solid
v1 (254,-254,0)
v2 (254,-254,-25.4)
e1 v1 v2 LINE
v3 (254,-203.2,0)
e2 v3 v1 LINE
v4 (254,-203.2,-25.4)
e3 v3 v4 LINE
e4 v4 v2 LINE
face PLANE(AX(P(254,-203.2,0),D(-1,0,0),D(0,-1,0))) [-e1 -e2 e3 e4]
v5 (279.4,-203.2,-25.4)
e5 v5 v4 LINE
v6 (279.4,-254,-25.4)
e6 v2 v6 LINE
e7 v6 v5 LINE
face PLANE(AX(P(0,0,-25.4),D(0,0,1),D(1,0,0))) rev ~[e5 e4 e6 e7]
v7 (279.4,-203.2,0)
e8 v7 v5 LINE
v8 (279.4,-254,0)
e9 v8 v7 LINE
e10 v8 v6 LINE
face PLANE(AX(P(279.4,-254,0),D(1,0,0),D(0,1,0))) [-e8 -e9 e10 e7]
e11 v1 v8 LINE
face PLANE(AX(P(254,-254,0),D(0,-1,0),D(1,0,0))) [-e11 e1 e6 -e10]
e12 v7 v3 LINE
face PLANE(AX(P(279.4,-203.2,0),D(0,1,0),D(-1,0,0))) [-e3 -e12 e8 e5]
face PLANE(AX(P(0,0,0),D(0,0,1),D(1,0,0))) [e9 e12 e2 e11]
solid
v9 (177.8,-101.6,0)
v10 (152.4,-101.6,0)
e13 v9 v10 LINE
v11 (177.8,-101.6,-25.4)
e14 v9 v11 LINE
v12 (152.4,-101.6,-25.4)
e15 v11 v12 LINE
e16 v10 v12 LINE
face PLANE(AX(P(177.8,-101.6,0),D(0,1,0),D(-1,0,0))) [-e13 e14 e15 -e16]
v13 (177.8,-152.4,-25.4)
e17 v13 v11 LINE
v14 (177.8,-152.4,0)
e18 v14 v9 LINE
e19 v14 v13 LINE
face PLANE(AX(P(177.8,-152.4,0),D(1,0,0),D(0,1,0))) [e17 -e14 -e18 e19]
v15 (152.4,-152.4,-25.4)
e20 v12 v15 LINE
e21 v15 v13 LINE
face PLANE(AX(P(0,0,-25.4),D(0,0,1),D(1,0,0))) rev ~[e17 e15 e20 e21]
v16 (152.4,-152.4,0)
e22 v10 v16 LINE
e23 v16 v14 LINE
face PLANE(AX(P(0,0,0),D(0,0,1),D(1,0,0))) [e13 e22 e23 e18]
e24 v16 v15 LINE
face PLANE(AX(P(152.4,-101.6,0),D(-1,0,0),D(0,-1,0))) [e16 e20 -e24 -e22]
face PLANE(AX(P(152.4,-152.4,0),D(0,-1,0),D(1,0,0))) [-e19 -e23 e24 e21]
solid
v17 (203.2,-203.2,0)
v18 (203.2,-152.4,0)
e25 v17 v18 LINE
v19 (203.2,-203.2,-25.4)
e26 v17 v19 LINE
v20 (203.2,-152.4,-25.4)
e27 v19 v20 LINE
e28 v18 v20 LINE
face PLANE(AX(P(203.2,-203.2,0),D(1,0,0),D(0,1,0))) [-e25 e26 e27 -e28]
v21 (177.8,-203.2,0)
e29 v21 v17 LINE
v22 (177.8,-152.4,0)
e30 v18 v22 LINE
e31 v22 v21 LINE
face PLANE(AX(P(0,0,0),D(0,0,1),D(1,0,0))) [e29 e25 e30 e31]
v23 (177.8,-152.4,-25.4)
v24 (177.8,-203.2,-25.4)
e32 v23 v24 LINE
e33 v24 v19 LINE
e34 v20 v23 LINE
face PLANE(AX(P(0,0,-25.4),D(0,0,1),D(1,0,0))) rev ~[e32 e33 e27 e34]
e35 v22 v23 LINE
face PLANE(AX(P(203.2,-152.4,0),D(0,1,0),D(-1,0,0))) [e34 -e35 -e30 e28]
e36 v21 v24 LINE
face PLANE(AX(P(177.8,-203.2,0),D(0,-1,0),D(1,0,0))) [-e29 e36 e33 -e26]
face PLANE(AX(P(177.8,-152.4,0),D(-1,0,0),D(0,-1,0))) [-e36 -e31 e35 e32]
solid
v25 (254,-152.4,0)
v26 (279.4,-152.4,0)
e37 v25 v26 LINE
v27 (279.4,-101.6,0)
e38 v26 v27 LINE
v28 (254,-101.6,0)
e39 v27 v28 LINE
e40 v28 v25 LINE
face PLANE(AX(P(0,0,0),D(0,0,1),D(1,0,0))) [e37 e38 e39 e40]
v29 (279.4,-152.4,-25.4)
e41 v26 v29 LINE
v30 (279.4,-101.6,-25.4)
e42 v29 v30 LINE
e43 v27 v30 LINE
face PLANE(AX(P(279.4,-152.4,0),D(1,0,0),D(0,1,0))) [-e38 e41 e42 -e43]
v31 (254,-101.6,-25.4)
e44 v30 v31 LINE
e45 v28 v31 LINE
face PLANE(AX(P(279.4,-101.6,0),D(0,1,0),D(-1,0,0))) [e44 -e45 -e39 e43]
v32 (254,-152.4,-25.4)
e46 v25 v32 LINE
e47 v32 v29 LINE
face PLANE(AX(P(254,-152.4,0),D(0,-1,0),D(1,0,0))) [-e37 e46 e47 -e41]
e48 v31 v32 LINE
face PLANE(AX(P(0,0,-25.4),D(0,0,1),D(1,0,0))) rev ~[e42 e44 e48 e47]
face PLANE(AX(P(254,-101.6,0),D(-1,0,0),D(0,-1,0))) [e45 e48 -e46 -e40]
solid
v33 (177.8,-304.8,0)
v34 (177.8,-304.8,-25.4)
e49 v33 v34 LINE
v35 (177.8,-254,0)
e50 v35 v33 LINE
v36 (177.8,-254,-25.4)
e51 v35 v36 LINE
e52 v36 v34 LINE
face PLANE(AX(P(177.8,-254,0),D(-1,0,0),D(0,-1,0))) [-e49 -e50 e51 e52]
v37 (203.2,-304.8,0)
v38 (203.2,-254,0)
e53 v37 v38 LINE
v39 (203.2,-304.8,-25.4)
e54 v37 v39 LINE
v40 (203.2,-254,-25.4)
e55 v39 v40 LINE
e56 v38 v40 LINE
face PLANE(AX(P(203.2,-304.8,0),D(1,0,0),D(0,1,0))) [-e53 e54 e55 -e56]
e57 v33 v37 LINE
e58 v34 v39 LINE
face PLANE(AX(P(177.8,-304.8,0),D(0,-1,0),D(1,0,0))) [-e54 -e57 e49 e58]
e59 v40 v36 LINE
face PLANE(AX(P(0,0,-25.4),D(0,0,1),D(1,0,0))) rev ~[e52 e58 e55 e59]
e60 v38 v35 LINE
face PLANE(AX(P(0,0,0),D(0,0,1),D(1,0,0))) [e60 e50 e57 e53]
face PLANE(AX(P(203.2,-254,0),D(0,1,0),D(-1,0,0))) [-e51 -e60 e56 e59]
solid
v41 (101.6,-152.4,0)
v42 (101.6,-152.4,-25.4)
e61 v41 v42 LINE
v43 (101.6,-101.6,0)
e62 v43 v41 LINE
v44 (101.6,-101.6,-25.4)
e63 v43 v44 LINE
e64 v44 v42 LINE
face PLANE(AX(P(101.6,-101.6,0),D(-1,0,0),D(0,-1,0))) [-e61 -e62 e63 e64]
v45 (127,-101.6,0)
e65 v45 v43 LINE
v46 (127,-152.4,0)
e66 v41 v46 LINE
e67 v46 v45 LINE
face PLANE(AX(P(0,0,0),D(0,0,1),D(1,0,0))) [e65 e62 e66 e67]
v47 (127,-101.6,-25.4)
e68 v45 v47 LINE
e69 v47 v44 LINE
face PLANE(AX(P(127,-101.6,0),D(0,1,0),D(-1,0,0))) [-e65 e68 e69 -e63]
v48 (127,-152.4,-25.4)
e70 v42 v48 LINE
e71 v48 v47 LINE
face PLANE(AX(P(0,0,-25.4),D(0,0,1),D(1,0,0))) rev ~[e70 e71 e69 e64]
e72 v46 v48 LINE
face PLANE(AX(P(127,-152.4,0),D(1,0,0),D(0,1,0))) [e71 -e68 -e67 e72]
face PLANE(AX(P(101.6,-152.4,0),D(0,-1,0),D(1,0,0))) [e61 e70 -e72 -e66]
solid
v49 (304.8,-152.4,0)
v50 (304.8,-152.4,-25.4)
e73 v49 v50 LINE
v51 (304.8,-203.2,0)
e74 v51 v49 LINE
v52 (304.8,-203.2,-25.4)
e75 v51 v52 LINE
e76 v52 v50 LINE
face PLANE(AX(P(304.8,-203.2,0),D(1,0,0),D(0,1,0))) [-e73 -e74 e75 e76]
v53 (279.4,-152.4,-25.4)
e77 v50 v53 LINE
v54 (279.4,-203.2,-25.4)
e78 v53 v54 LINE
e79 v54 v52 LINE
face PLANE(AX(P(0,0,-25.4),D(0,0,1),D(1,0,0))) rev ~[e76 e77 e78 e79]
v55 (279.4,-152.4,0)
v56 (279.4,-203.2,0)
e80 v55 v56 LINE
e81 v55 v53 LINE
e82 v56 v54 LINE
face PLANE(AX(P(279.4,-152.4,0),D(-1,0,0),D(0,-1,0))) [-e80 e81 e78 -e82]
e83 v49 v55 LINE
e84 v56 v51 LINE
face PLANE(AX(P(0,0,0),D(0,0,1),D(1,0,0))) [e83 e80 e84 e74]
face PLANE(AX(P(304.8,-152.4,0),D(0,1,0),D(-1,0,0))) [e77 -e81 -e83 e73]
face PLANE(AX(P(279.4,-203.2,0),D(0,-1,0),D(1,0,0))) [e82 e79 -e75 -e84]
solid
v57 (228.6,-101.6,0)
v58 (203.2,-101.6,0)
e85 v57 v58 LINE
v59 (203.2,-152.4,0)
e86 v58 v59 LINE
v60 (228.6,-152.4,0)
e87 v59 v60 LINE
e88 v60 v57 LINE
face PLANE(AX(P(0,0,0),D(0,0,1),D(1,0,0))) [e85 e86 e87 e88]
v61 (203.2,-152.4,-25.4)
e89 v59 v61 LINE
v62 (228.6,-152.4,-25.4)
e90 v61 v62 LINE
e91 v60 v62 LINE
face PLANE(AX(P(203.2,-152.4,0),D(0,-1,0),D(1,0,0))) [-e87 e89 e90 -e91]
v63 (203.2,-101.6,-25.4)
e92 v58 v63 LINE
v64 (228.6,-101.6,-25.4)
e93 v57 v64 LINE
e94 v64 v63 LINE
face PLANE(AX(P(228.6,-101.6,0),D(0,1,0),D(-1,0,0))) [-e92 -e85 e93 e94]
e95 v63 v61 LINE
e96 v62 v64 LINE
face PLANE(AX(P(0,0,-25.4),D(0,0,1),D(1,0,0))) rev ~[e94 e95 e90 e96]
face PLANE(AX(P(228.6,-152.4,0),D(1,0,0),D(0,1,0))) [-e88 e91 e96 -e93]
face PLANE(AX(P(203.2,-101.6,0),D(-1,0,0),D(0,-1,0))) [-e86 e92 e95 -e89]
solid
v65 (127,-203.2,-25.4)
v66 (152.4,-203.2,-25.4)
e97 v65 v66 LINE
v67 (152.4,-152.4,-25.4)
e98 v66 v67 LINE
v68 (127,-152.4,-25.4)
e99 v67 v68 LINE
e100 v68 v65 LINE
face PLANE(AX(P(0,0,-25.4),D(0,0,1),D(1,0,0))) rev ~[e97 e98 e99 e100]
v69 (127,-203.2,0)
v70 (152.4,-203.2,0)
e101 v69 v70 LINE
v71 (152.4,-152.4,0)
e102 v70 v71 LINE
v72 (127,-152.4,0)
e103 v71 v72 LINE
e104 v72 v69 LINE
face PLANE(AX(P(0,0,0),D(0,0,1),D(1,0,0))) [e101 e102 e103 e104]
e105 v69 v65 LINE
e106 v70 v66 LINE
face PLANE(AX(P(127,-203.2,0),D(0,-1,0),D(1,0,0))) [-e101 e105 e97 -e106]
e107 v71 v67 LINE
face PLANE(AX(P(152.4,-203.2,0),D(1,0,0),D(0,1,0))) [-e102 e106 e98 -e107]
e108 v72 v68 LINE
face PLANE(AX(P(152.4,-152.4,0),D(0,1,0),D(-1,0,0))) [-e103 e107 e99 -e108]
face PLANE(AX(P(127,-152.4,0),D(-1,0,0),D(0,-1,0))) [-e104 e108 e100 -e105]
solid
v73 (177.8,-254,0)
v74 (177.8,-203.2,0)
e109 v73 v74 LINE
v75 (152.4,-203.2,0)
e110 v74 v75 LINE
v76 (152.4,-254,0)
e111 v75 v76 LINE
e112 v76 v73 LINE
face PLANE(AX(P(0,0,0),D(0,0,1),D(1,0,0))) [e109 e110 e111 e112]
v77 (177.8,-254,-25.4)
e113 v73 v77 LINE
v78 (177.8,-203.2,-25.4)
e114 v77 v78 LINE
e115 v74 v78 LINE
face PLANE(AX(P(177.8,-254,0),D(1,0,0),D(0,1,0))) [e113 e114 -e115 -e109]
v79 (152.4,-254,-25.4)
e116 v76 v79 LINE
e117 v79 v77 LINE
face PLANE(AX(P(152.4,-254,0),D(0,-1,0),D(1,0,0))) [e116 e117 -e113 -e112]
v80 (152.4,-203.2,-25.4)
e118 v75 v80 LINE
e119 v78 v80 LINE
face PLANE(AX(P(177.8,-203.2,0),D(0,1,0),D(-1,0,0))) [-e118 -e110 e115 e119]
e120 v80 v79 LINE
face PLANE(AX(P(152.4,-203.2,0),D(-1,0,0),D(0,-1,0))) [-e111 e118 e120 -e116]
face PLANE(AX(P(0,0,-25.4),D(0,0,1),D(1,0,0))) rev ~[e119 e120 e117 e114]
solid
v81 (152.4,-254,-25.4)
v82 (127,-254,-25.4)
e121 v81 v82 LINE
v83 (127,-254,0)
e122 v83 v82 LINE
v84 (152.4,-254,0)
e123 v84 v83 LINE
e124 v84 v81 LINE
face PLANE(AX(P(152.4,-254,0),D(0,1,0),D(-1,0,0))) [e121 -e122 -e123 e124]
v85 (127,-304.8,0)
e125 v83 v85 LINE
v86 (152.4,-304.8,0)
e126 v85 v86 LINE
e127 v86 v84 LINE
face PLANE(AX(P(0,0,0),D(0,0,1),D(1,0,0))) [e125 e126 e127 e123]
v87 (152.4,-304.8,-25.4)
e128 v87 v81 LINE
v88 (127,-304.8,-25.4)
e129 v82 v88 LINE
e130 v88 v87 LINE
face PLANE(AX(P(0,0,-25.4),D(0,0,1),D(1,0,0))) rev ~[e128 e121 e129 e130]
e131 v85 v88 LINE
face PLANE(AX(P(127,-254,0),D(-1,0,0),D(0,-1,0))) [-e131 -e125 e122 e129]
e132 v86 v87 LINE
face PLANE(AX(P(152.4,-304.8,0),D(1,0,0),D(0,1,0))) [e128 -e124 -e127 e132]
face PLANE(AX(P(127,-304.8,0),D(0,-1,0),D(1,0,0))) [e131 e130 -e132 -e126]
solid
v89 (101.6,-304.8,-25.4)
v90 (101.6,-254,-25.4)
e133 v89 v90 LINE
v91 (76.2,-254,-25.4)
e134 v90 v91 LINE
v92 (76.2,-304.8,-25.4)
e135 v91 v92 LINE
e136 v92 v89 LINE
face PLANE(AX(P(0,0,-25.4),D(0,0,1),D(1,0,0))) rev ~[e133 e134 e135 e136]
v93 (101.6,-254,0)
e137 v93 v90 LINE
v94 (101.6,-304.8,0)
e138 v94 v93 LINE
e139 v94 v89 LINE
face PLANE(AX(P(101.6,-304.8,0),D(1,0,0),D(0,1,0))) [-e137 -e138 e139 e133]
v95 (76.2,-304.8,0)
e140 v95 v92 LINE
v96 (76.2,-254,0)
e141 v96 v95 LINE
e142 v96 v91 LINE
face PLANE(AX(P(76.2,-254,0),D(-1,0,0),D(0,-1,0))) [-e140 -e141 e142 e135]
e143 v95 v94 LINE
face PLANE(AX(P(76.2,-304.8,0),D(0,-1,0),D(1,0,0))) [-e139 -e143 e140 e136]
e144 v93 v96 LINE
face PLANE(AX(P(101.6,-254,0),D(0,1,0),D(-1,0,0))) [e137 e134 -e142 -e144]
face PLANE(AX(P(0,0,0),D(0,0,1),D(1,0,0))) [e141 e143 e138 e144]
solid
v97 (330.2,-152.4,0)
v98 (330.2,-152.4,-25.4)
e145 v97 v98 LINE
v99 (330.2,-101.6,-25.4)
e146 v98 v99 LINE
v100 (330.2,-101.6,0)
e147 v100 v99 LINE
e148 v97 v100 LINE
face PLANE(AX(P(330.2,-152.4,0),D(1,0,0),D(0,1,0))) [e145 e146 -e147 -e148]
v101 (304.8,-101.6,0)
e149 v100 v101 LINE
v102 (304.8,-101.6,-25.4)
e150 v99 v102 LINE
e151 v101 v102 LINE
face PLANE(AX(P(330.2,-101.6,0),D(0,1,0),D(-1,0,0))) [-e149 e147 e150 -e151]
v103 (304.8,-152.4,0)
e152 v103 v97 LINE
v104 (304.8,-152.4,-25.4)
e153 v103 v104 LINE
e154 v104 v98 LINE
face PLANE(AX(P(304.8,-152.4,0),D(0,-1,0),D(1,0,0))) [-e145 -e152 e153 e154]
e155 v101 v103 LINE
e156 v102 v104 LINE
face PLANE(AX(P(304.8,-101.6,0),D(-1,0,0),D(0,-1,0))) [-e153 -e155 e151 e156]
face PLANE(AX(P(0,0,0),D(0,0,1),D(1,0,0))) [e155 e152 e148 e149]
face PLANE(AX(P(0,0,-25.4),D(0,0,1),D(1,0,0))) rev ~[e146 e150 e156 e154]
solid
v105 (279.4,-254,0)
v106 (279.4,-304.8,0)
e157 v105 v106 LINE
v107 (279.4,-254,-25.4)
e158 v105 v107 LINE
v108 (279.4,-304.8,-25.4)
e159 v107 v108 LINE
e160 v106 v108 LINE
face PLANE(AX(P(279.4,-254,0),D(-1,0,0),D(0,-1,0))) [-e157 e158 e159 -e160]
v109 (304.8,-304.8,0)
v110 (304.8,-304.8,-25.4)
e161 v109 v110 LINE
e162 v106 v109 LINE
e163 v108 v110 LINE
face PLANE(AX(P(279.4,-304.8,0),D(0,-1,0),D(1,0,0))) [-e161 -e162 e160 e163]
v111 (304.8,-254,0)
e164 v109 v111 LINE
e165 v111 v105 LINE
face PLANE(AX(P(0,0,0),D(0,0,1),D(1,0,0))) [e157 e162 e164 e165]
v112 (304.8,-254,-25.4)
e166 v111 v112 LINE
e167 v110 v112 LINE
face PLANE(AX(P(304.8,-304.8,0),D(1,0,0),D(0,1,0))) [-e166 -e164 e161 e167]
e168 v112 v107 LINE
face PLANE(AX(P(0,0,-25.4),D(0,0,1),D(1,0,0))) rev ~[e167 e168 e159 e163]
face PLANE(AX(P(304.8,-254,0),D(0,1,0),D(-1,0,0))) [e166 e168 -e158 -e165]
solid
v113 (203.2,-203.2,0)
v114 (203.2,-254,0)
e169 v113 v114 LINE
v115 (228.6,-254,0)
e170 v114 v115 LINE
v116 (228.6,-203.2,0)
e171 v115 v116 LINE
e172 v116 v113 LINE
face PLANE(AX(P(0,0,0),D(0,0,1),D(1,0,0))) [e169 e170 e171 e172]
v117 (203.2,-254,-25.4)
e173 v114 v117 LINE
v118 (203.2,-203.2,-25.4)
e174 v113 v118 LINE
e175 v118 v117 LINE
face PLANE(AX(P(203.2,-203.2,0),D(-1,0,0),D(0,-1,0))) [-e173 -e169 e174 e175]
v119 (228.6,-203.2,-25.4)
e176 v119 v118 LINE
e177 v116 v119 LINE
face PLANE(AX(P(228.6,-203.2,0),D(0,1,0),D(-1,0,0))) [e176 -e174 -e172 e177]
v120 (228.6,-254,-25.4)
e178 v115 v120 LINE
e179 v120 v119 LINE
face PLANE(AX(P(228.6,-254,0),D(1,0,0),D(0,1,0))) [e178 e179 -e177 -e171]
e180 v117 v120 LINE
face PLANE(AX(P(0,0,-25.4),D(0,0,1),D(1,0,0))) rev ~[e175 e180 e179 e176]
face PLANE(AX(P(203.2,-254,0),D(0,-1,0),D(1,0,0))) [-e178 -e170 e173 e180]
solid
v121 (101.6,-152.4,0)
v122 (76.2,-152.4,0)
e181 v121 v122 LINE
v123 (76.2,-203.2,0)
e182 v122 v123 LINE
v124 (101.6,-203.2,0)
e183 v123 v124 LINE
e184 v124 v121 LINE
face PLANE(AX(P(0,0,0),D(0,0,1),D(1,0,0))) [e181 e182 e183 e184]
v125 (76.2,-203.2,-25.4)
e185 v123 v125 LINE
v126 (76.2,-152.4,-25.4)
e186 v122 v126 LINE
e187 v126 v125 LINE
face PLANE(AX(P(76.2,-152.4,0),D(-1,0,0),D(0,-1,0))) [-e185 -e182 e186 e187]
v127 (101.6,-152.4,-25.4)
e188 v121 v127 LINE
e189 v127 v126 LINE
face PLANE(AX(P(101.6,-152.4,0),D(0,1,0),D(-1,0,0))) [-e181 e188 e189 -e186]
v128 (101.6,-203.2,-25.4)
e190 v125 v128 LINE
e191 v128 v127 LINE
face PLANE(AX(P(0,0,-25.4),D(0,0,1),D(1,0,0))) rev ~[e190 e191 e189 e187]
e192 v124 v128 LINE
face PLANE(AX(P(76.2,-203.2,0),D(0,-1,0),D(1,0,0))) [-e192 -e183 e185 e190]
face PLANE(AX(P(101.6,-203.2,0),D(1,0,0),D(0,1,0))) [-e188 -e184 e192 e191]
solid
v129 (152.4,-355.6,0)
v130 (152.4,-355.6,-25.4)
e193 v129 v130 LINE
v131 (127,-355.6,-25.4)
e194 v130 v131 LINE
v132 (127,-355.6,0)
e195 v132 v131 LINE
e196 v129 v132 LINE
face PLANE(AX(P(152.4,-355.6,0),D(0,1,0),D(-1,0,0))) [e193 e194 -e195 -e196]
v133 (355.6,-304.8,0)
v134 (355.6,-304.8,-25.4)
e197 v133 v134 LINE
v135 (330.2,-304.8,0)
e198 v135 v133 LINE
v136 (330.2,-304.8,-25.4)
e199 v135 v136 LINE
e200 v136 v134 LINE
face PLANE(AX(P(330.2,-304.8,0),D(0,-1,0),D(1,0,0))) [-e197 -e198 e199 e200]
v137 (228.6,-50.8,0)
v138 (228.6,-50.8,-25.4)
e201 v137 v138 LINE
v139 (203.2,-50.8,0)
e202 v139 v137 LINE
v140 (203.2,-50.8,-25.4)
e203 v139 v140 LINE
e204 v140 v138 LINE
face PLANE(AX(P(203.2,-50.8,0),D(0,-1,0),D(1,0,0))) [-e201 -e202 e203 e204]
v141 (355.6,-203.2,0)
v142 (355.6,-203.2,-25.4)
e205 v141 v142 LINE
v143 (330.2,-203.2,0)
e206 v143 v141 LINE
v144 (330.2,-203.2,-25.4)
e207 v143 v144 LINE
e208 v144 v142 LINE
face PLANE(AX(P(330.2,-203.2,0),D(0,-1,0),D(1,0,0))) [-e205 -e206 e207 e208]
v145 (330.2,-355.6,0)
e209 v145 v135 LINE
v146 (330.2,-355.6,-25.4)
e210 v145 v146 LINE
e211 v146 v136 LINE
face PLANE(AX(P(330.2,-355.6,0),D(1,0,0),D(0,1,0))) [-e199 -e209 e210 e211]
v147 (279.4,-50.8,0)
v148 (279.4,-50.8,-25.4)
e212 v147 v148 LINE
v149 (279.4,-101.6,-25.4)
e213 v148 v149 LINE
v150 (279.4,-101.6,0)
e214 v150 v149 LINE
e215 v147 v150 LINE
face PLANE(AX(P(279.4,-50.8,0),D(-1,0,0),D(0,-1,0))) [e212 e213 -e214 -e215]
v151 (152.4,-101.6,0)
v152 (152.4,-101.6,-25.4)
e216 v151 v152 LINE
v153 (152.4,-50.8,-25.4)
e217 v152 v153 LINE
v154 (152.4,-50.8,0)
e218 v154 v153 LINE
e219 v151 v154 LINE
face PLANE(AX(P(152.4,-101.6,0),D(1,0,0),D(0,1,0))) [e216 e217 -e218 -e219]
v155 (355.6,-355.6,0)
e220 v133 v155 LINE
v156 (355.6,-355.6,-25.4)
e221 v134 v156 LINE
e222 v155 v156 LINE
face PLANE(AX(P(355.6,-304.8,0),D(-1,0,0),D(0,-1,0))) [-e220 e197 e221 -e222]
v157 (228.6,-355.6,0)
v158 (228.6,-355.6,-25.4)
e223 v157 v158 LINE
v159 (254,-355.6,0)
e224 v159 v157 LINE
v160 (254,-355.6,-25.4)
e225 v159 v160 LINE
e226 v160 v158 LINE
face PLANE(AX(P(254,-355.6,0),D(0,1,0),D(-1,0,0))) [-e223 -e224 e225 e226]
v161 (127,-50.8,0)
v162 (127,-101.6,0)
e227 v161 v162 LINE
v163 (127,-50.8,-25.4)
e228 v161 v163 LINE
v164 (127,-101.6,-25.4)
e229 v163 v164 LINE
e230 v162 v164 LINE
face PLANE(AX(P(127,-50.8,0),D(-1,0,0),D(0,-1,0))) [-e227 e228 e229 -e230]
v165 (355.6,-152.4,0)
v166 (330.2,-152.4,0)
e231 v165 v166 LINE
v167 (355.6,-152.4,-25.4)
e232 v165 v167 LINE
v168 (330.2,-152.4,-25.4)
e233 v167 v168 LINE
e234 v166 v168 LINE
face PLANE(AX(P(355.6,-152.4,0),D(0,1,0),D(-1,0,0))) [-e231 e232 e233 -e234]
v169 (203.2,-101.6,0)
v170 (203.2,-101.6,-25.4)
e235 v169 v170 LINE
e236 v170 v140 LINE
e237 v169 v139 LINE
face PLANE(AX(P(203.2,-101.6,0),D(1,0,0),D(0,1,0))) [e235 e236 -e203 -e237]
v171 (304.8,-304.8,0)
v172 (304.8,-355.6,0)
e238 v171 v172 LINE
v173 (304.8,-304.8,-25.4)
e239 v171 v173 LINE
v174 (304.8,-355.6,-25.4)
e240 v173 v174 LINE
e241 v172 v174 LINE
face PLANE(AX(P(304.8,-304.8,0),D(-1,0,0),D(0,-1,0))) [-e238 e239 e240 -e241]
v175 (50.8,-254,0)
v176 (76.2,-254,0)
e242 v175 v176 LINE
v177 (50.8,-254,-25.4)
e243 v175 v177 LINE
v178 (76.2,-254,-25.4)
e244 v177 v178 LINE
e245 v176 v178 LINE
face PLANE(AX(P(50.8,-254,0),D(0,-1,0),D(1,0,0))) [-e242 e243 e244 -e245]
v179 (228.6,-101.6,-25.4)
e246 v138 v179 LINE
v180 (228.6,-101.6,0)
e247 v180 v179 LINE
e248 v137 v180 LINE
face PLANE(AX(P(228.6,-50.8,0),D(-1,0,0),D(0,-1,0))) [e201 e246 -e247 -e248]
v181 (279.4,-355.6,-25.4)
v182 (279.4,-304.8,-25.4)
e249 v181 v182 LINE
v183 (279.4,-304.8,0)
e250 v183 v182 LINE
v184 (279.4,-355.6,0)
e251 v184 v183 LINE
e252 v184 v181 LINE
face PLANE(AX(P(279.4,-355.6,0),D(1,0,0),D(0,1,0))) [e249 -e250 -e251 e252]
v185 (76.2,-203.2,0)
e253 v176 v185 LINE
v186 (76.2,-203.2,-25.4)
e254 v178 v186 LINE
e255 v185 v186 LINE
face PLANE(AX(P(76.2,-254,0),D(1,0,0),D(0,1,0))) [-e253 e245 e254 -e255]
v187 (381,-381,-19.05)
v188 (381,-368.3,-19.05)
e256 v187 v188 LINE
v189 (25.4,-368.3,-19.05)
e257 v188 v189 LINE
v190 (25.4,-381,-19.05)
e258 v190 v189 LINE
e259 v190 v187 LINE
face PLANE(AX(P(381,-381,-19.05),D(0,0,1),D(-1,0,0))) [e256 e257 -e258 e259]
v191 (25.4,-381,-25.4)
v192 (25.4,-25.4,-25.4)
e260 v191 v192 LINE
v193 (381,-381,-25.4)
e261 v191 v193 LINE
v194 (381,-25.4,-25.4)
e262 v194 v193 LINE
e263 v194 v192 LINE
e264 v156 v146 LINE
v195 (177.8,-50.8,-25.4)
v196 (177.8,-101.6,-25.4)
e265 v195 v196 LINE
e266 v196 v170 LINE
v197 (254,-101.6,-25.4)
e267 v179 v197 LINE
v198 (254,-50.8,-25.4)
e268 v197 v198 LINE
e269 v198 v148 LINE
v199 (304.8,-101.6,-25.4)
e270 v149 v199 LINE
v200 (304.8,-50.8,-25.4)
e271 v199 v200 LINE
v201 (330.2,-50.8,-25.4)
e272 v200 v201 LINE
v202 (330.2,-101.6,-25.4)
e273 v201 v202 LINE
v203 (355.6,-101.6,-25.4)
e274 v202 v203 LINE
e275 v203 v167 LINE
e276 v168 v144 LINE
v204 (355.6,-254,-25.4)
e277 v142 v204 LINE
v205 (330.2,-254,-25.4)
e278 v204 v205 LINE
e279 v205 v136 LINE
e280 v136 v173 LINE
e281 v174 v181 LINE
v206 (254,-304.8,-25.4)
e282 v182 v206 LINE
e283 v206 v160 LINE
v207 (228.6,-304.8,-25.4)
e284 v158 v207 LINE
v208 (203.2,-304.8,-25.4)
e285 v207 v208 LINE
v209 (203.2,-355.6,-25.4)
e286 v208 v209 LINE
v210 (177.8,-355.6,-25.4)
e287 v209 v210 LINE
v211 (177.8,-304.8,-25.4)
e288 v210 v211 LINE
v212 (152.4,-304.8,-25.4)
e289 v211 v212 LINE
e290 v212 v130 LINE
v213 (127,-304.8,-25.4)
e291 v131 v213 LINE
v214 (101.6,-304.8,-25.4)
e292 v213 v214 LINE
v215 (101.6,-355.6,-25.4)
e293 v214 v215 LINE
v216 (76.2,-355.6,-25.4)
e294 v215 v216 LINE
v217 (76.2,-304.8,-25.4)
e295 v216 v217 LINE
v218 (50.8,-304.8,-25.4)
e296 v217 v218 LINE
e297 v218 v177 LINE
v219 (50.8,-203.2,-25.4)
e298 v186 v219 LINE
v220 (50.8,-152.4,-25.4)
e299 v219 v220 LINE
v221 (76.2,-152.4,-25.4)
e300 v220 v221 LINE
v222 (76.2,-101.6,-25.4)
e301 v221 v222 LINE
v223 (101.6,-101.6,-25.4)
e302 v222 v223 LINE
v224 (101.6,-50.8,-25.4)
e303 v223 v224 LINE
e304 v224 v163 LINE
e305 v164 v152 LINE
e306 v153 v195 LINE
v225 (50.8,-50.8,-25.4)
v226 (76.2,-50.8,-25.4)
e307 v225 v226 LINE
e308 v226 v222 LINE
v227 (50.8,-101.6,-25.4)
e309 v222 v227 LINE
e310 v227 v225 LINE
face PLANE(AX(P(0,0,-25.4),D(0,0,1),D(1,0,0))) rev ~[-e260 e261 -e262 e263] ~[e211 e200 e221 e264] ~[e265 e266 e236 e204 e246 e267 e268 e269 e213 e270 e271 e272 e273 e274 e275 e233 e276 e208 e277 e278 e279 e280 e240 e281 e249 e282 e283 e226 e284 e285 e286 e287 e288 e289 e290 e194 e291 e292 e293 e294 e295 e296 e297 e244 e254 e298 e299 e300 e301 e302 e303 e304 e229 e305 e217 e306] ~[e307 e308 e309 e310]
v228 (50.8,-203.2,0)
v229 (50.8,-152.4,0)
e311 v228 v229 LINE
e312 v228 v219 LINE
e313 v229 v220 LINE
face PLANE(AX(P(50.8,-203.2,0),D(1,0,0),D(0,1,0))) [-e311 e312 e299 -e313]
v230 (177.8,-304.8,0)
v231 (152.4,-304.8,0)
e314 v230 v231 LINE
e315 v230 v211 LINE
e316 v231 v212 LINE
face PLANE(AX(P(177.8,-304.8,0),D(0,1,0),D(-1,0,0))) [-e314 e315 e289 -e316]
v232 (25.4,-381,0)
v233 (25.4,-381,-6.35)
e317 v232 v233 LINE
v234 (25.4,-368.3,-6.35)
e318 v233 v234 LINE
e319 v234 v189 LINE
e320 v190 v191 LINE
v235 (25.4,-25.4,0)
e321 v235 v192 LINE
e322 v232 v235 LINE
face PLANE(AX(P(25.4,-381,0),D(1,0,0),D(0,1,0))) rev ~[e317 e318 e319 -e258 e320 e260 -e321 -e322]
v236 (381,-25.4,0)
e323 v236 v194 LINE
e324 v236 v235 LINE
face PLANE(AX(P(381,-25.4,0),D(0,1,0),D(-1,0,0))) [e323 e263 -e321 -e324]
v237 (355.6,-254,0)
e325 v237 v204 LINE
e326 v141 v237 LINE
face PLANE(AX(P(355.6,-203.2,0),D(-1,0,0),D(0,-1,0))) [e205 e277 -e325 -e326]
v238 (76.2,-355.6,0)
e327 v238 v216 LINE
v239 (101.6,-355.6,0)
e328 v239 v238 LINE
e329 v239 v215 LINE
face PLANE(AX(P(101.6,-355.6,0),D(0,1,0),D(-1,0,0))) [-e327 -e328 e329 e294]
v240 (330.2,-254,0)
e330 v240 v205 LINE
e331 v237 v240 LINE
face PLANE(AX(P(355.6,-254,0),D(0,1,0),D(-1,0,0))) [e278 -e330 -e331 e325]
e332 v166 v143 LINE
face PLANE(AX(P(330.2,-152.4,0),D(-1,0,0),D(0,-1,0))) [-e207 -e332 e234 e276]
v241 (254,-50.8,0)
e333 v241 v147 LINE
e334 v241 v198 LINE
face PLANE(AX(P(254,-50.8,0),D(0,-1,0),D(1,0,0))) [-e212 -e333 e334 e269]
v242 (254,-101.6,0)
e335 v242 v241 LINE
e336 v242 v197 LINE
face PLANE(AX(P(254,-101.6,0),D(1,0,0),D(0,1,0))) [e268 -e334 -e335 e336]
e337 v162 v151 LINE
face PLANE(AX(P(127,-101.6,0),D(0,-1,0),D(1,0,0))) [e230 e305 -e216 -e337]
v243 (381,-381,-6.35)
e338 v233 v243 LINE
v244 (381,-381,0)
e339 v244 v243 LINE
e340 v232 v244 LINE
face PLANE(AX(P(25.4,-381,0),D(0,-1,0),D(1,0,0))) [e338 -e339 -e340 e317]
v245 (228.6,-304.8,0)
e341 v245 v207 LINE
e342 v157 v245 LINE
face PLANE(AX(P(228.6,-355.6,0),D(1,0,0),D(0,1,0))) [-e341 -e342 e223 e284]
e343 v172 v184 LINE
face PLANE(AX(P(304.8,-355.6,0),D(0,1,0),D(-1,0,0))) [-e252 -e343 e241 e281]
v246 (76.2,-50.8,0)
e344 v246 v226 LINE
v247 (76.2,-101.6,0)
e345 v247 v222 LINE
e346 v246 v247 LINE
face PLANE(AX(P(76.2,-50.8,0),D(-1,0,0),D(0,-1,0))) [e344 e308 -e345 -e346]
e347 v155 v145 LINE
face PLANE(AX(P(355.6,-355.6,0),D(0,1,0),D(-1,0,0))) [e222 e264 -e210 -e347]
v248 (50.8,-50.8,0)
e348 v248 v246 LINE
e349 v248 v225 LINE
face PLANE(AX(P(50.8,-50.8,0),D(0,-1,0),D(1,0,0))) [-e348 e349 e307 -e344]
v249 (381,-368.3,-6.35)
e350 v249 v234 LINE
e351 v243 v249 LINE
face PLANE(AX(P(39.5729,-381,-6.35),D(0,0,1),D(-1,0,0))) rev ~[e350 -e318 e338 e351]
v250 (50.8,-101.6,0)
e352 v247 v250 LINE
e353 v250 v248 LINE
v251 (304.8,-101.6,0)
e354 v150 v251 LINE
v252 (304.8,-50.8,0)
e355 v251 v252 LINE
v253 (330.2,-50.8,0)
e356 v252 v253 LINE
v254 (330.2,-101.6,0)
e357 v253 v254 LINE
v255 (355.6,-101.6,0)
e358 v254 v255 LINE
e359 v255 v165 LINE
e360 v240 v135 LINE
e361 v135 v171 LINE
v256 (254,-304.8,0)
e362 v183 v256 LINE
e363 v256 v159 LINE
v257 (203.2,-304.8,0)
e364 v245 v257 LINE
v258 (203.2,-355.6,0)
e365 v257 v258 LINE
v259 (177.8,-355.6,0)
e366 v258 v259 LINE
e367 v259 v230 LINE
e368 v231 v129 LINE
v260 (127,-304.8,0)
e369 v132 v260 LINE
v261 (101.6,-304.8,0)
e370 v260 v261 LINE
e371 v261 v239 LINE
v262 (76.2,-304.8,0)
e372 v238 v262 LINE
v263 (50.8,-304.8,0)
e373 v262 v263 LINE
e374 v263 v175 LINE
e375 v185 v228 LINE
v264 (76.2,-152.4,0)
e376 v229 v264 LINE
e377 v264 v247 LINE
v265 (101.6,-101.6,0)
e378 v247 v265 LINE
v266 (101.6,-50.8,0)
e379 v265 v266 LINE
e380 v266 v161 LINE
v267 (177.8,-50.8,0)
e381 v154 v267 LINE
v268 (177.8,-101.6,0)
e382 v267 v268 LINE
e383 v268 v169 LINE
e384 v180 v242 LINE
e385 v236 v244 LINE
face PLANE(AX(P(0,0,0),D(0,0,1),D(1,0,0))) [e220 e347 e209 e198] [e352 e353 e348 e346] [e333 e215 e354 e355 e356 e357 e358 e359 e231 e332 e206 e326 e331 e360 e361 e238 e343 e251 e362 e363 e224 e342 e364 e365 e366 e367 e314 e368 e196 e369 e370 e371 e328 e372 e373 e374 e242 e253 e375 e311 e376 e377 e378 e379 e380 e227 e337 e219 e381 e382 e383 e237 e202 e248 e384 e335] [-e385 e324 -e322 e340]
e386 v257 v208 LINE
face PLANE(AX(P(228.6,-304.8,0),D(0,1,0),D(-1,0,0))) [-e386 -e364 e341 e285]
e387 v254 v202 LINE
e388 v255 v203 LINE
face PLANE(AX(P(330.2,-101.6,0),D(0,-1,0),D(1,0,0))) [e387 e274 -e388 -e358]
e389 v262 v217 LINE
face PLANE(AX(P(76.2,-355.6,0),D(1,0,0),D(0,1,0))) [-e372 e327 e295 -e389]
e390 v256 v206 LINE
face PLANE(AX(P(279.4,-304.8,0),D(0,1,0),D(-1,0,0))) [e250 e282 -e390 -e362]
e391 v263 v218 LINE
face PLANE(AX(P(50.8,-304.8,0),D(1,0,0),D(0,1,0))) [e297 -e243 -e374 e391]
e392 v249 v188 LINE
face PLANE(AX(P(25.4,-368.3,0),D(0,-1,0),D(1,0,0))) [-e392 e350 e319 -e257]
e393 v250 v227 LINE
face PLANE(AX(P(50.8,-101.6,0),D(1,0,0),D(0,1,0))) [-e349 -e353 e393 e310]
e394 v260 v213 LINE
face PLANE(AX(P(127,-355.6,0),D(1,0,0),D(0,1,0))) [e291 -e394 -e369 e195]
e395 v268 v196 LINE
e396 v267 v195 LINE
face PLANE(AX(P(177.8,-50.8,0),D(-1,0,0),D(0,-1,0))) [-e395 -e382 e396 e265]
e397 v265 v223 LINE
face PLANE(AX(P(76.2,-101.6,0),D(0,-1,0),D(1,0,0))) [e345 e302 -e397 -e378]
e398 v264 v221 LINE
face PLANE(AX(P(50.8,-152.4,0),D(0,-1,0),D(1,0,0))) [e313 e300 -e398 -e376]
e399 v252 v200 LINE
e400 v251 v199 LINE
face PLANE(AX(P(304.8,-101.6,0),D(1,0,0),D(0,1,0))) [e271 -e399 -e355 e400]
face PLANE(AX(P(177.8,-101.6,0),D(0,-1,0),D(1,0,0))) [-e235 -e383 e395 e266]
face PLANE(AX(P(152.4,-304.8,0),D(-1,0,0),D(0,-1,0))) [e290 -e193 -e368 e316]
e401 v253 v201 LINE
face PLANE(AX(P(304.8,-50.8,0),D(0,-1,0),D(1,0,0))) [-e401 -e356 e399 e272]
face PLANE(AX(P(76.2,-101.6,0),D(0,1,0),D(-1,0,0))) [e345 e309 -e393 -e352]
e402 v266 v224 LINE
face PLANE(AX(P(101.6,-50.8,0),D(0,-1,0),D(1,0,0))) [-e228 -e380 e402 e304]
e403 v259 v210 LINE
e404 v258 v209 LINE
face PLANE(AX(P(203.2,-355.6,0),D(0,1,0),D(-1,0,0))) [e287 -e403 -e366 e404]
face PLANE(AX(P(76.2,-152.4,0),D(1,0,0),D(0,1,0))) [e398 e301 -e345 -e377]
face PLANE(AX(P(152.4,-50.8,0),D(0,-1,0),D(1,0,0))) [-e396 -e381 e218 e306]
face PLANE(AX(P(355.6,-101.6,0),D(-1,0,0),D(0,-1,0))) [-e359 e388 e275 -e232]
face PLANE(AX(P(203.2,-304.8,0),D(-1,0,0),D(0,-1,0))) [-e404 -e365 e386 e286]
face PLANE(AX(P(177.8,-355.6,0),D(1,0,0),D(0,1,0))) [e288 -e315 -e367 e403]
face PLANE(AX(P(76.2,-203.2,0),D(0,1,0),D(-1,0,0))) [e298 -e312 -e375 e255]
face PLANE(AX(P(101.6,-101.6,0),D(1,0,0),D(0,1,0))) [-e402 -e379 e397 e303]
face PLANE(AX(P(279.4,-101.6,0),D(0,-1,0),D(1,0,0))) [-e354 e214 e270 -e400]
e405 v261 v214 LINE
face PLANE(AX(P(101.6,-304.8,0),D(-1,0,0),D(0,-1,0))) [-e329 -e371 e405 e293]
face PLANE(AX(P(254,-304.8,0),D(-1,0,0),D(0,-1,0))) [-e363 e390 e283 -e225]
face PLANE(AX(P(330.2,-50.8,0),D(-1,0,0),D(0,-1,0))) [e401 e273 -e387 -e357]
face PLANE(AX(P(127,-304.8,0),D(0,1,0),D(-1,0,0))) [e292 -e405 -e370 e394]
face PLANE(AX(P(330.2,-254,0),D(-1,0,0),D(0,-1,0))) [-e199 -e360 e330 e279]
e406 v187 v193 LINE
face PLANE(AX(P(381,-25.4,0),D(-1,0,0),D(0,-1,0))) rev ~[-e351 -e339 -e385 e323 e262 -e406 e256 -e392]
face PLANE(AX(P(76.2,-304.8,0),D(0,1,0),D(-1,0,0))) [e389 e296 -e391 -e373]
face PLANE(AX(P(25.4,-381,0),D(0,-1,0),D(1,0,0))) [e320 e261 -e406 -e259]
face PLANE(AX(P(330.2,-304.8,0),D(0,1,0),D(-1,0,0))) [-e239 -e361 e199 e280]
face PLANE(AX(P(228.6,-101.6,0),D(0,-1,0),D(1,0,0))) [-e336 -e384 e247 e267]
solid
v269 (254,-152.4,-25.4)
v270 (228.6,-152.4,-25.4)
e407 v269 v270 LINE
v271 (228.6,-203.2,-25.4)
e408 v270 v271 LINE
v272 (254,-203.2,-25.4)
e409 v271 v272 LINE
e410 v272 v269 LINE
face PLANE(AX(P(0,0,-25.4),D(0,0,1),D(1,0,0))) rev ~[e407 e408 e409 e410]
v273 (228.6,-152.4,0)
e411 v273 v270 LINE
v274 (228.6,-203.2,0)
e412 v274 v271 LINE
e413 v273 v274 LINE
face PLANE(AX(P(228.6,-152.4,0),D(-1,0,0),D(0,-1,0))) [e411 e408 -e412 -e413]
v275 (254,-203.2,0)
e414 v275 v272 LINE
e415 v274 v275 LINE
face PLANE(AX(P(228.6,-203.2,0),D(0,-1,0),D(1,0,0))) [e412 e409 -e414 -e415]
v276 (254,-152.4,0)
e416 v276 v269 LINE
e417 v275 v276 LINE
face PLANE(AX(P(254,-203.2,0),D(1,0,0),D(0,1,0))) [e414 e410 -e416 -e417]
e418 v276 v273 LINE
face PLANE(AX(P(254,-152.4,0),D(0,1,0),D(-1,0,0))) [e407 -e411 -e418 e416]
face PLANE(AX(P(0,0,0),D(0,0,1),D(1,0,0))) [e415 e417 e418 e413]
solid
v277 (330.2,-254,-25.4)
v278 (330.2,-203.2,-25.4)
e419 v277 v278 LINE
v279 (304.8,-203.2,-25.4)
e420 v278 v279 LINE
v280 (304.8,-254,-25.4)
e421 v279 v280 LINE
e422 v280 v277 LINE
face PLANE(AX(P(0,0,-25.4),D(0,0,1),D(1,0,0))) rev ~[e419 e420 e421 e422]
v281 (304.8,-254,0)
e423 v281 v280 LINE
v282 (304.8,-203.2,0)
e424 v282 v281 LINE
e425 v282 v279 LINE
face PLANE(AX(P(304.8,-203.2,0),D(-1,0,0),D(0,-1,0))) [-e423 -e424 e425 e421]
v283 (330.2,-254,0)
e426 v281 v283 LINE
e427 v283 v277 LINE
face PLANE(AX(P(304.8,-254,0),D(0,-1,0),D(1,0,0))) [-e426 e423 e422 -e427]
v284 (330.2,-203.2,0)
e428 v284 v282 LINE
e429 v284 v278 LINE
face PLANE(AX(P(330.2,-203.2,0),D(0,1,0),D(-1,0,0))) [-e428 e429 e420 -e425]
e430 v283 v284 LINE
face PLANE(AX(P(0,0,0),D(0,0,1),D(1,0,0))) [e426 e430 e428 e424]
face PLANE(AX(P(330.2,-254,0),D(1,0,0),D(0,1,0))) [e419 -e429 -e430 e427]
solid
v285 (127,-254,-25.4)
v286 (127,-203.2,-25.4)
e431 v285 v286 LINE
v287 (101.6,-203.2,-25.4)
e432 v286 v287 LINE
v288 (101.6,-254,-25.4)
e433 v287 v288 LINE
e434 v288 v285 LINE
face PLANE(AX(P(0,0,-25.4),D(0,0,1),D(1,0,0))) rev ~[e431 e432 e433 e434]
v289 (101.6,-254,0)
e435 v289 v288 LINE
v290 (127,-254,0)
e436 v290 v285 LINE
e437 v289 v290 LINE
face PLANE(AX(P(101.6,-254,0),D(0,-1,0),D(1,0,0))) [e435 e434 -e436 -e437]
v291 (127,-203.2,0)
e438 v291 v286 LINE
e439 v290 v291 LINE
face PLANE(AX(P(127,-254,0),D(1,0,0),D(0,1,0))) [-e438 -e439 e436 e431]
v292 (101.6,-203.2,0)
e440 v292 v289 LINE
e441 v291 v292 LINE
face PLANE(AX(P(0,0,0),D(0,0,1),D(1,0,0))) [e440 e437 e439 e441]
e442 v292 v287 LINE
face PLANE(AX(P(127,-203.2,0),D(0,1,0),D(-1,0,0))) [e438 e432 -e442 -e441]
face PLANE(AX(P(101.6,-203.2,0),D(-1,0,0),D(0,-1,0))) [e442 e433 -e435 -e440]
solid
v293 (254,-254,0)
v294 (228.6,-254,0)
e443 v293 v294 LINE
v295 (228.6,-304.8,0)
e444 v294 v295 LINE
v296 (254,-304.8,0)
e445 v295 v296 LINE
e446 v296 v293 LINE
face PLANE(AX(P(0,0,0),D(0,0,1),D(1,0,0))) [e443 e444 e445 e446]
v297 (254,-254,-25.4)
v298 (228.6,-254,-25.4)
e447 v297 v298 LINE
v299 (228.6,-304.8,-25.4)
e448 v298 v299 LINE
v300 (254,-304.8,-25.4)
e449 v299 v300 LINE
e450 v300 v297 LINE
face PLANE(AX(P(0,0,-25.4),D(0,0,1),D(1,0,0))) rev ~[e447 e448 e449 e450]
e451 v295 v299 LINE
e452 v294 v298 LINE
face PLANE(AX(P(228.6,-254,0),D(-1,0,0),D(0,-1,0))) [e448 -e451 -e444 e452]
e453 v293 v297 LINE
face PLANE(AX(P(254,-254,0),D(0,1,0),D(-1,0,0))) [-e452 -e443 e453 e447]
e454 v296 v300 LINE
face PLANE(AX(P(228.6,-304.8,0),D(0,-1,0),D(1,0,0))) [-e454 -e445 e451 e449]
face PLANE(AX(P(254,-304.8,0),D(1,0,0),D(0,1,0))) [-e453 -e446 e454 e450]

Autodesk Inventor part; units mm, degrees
ref_plane "YZ Plane" through (0, 0, 0) normal (1, 0, 0) x (0, 1, 0)
ref_plane "XZ Plane" through (0, 0, 0) normal (0, 1, 0) x (-1, 0, 0)
ref_plane "XY Plane" through (0, 0, 0) normal (0, 0, 1) x (1, 0, 0)
sketch "Sketch1" plane through (0, 0, 0) normal (0, 0, 1) x (1, 0, 0)
  line L0 (0, 0) -> (812.8, 0) construction
  line L1 (812.8, 0) -> (812.8, -406.4) construction
  line L2 (812.8, -406.4) -> (0, -406.4) construction
  line L3 (0, -406.4) -> (0, 0) construction
  line L4 (0, 0) -> (406.4, 0)
  line L5 (406.4, 0) -> (406.4, -25.4)
  line L6 (406.4, -25.4) -> (0, -25.4)
  line L7 (0, -25.4) -> (0, 0)
  line L8 (406.4, -25.4) -> (381, -25.4)
  line L9 (381, -25.4) -> (381, -406.4)
  line L10 (381, -406.4) -> (406.4, -406.4)
  line L11 (406.4, -406.4) -> (406.4, -25.4)
  line L12 (381, -406.4) -> (0, -406.4)
  line L13 (0, -406.4) -> (0, -381)
  line L14 (0, -381) -> (381, -381)
  line L15 (381, -381) -> (381, -406.4)
  line L16 (0, -381) -> (25.4, -381)
  line L17 (25.4, -381) -> (25.4, -25.4)
  line L18 (25.4, -25.4) -> (0, -25.4)
  line L19 (0, -25.4) -> (0, -381)
  dimension "d1" = 812.8
  dimension "d5" = 406.4
  dimension "d6" = 25.4
  dimension "d7" = 25.4
  dimension "d8" = 381
  dimension "d9" = 381
  dimension "d10" = 25.4
  dimension "d11" = 25.4
extrude "Extrusion1" add sketch "Sketch1" against normal blind 25.4 contours L6 L9 L14 L17
sketch "Sketch2" plane through (0, 0, 0) normal (0, 0, 1) x (1, 0, 0)
  line L0 (0, 0) -> (812.8, 0) construction
  line L1 (812.8, 0) -> (812.8, -406.4) construction
  line L2 (812.8, -406.4) -> (0, -406.4) construction
  line L3 (0, -406.4) -> (0, 0) construction
  line L4 (25.4, -25.4) -> (381, -25.4) projected
  line L5 (25.4, -25.4) -> (50.8, -25.4)
  line L6 (50.8, -25.4) -> (50.8, -50.8)
  line L7 (50.8, -50.8) -> (25.4, -50.8)
  line L8 (25.4, -50.8) -> (25.4, -25.4)
  line L9 (50.8, -50.8) -> (76.2, -50.8)
  line L10 (76.2, -50.8) -> (76.2, -101.6)
  line L11 (76.2, -101.6) -> (50.8, -101.6)
  line L12 (50.8, -101.6) -> (50.8, -50.8)
  line L13 (76.2, -101.6) -> (101.6, -101.6)
  line L14 (101.6, -101.6) -> (101.6, -152.4)
  line L15 (101.6, -152.4) -> (76.2, -152.4)
  line L16 (76.2, -152.4) -> (76.2, -101.6)
  line L17 (101.6, -152.4) -> (127, -152.4)
  line L18 (127, -152.4) -> (127, -203.2)
  line L19 (127, -203.2) -> (101.6, -203.2)
  line L20 (101.6, -203.2) -> (101.6, -152.4)
  line L21 (127, -203.2) -> (152.4, -203.2)
  line L22 (152.4, -203.2) -> (152.4, -254)
  line L23 (152.4, -254) -> (127, -254)
  line L24 (127, -254) -> (127, -203.2)
  line L25 (152.4, -254) -> (177.8, -254)
  line L26 (177.8, -254) -> (177.8, -304.8)
  line L27 (177.8, -304.8) -> (152.4, -304.8)
  line L28 (152.4, -304.8) -> (152.4, -254)
  line L29 (177.8, -304.8) -> (203.2, -304.8)
  line L30 (203.2, -304.8) -> (203.2, -355.6)
  line L31 (203.2, -355.6) -> (177.8, -355.6)
  line L32 (177.8, -355.6) -> (177.8, -304.8)
  line L33 (50.8, -152.4) -> (76.2, -152.4)
  line L34 (76.2, -152.4) -> (76.2, -203.2)
  line L35 (76.2, -203.2) -> (50.8, -203.2)
  line L36 (50.8, -203.2) -> (50.8, -152.4)
  line L37 (76.2, -203.2) -> (101.6, -203.2)
  line L38 (101.6, -203.2) -> (101.6, -254)
  line L39 (101.6, -254) -> (76.2, -254)
  line L40 (76.2, -254) -> (76.2, -203.2)
  line L41 (101.6, -254) -> (127, -254)
  line L42 (127, -254) -> (127, -304.8)
  line L43 (127, -304.8) -> (101.6, -304.8)
  line L44 (101.6, -304.8) -> (101.6, -254)
  line L45 (127, -304.8) -> (152.4, -304.8)
  line L46 (152.4, -304.8) -> (152.4, -355.6)
  line L47 (152.4, -355.6) -> (127, -355.6)
  line L48 (127, -355.6) -> (127, -304.8)
  line L49 (50.8, -254) -> (76.2, -254)
  line L50 (76.2, -254) -> (76.2, -304.8)
  line L51 (76.2, -304.8) -> (50.8, -304.8)
  line L52 (50.8, -304.8) -> (50.8, -254)
  line L53 (76.2, -304.8) -> (101.6, -304.8)
  line L54 (101.6, -304.8) -> (101.6, -355.6)
  line L55 (101.6, -355.6) -> (76.2, -355.6)
  line L56 (76.2, -355.6) -> (76.2, -304.8)
  line L57 (203.2, -254) -> (228.6, -254)
  line L58 (228.6, -254) -> (228.6, -304.8)
  line L59 (228.6, -304.8) -> (203.2, -304.8)
  line L60 (203.2, -304.8) -> (203.2, -254)
  line L61 (228.6, -304.8) -> (254, -304.8)
  line L62 (254, -304.8) -> (254, -355.6)
  line L63 (254, -355.6) -> (228.6, -355.6)
  line L64 (228.6, -355.6) -> (228.6, -304.8)
  line L65 (152.4, -152.4) -> (177.8, -152.4)
  line L66 (177.8, -152.4) -> (177.8, -203.2)
  line L67 (177.8, -203.2) -> (152.4, -203.2)
  line L68 (152.4, -203.2) -> (152.4, -152.4)
  line L69 (177.8, -203.2) -> (203.2, -203.2)
  line L70 (203.2, -203.2) -> (203.2, -254)
  line L71 (203.2, -254) -> (177.8, -254)
  line L72 (177.8, -254) -> (177.8, -203.2)
  line L73 (101.6, -50.8) -> (127, -50.8)
  line L74 (127, -50.8) -> (127, -101.6)
  line L75 (127, -101.6) -> (101.6, -101.6)
  line L76 (101.6, -101.6) -> (101.6, -50.8)
  line L77 (127, -101.6) -> (152.4, -101.6)
  line L78 (152.4, -101.6) -> (152.4, -152.4)
  line L79 (152.4, -152.4) -> (127, -152.4)
  line L80 (127, -152.4) -> (127, -101.6)
  line L81 (254, -254) -> (279.4, -254)
  line L82 (279.4, -254) -> (279.4, -304.8)
  line L83 (279.4, -304.8) -> (254, -304.8)
  line L84 (254, -304.8) -> (254, -254)
  line L85 (279.4, -304.8) -> (304.8, -304.8)
  line L86 (304.8, -304.8) -> (304.8, -355.6)
  line L87 (304.8, -355.6) -> (279.4, -355.6)
  line L88 (279.4, -355.6) -> (279.4, -304.8)
  line L89 (203.2, -152.4) -> (228.6, -152.4)
  line L90 (228.6, -152.4) -> (228.6, -203.2)
  line L91 (228.6, -203.2) -> (203.2, -203.2)
  line L92 (203.2, -203.2) -> (203.2, -152.4)
  line L93 (228.6, -203.2) -> (254, -203.2)
  line L94 (254, -203.2) -> (254, -254)
  line L95 (254, -254) -> (228.6, -254)
  line L96 (228.6, -254) -> (228.6, -203.2)
  line L97 (152.4, -50.8) -> (177.8, -50.8)
  line L98 (177.8, -50.8) -> (177.8, -101.6)
  line L99 (177.8, -101.6) -> (152.4, -101.6)
  line L100 (152.4, -101.6) -> (152.4, -50.8)
  line L101 (177.8, -101.6) -> (203.2, -101.6)
  line L102 (203.2, -101.6) -> (203.2, -152.4)
  line L103 (203.2, -152.4) -> (177.8, -152.4)
  line L104 (177.8, -152.4) -> (177.8, -101.6)
  line L105 (304.8, -254) -> (330.2, -254)
  line L106 (330.2, -254) -> (330.2, -304.8)
  line L107 (330.2, -304.8) -> (304.8, -304.8)
  line L108 (304.8, -304.8) -> (304.8, -254)
  line L109 (330.2, -304.8) -> (355.6, -304.8)
  line L110 (355.6, -304.8) -> (355.6, -355.6)
  line L111 (355.6, -355.6) -> (330.2, -355.6)
  line L112 (330.2, -355.6) -> (330.2, -304.8)
  line L113 (254, -152.4) -> (279.4, -152.4)
  line L114 (279.4, -152.4) -> (279.4, -203.2)
  line L115 (279.4, -203.2) -> (254, -203.2)
  line L116 (254, -203.2) -> (254, -152.4)
  line L117 (279.4, -203.2) -> (304.8, -203.2)
  line L118 (304.8, -203.2) -> (304.8, -254)
  line L119 (304.8, -254) -> (279.4, -254)
  line L120 (279.4, -254) -> (279.4, -203.2)
  line L121 (203.2, -50.8) -> (228.6, -50.8)
  line L122 (228.6, -50.8) -> (228.6, -101.6)
  line L123 (228.6, -101.6) -> (203.2, -101.6)
  line L124 (203.2, -101.6) -> (203.2, -50.8)
  line L125 (228.6, -101.6) -> (254, -101.6)
  line L126 (254, -101.6) -> (254, -152.4)
  line L127 (254, -152.4) -> (228.6, -152.4)
  line L128 (228.6, -152.4) -> (228.6, -101.6)
  line L129 (304.8, -152.4) -> (330.2, -152.4)
  line L130 (330.2, -152.4) -> (330.2, -203.2)
  line L131 (330.2, -203.2) -> (304.8, -203.2)
  line L132 (304.8, -203.2) -> (304.8, -152.4)
  line L133 (330.2, -203.2) -> (355.6, -203.2)
  line L134 (355.6, -203.2) -> (355.6, -254)
  line L135 (355.6, -254) -> (330.2, -254)
  line L136 (330.2, -254) -> (330.2, -203.2)
  line L137 (254, -50.8) -> (279.4, -50.8)
  line L138 (279.4, -50.8) -> (279.4, -101.6)
  line L139 (279.4, -101.6) -> (254, -101.6)
  line L140 (254, -101.6) -> (254, -50.8)
  line L141 (279.4, -101.6) -> (304.8, -101.6)
  line L142 (304.8, -101.6) -> (304.8, -152.4)
  line L143 (304.8, -152.4) -> (279.4, -152.4)
  line L144 (279.4, -152.4) -> (279.4, -101.6)
  line L145 (304.8, -50.8) -> (330.2, -50.8)
  line L146 (330.2, -50.8) -> (330.2, -101.6)
  line L147 (330.2, -101.6) -> (304.8, -101.6)
  line L148 (304.8, -101.6) -> (304.8, -50.8)
  line L149 (330.2, -101.6) -> (355.6, -101.6)
  line L150 (355.6, -101.6) -> (355.6, -152.4)
  line L151 (355.6, -152.4) -> (330.2, -152.4)
  line L152 (330.2, -152.4) -> (330.2, -101.6)
  dimension "d15" = 812.8
  dimension "d19" = 25.4
  dimension "d20" = 25.4
  dimension "d21" = 25.4
  dimension "d22" = 50.8
  dimension "d23" = 25.4
  dimension "d24" = 50.8
  dimension "d25" = 25.4
  dimension "d26" = 50.8
  dimension "d27" = 25.4
  dimension "d28" = 50.8
  dimension "d30" = 25.4
  dimension "d31" = 50.8
  dimension "d32" = 25.4
  dimension "d33" = 50.8
  dimension "d35" = 25.4
  dimension "d36" = 50.8
  dimension "d37" = 25.4
  dimension "d38" = 50.8
  dimension "d40" = 25.4
  dimension "d41" = 50.8
  dimension "d42" = 25.4
  dimension "d43" = 50.8
  dimension "d45" = 25.4
  dimension "d46" = 50.8
  dimension "d47" = 25.4
  dimension "d48" = 50.8
  dimension "d50" = 25.4
  dimension "d51" = 50.8
  dimension "d52" = 25.4
  dimension "d53" = 50.8
  dimension "d55" = 25.4
  dimension "d56" = 50.8
  dimension "d57" = 25.4
  dimension "d58" = 50.8
  dimension "d60" = 25.4
  dimension "d61" = 50.8
  dimension "d62" = 25.4
  dimension "d63" = 50.8
  dimension "d65" = 25.4
  dimension "d66" = 50.8
  dimension "d67" = 25.4
  dimension "d68" = 50.8
  dimension "d70" = 25.4
  dimension "d71" = 50.8
  dimension "d72" = 25.4
  dimension "d73" = 50.8
  dimension "d75" = 25.4
  dimension "d76" = 50.8
  dimension "d77" = 25.4
  dimension "d78" = 50.8
  dimension "d80" = 25.4
  dimension "d81" = 50.8
  dimension "d82" = 25.4
  dimension "d83" = 50.8
  dimension "d85" = 25.4
  dimension "d86" = 50.8
  dimension "d87" = 25.4
  dimension "d88" = 50.8
  dimension "d90" = 25.4
  dimension "d91" = 50.8
  dimension "d92" = 25.4
  dimension "d93" = 50.8
  dimension "d95" = 25.4
extrude "Extrusion2" cut sketch "Sketch2" against normal blind 50.8 contours L109 L110 L111 L112 | L13 L14 L15 L16 | L9 L10 L11 L12 | L76 L73 L74 L75 | L34 L35 L36 L33 | L17 L18 L19 L20 | L77 L78 L79 L80 | L37 L38 L39 L40 | L100 L97 L98 L99 | L50 L51 L52 L49 | L21 L22 L23 L24 | L65 L66 L67 L68 | L41 L42 L43 L44 | L101 L102 L103 L104 | L53 L54 L55 L56 | L124 L121 L122 L123 | L25 L26 L27 L28 | L69 L70 L71 L72 | L45 L46 L47 L48 | L89 L90 L91 L92 | L125 L126 L127 L128 | L140 L137 L138 L139 | L29 L30 L31 L32 | L57 L58 L59 L60 | L93 L94 L95 L96 | L113 L114 L115 L116 | L141 L142 L143 L144 | L148 L145 L146 L147 | L61 L62 L63 L64 | L81 L82 L83 L84 | L117 L118 L119 L120 | L129 L130 L131 L132 | L149 L150 L151 L152 | L85 L86 L87 L88 | L105 L106 L107 L108 | L133 L134 L135 L136
sketch "Sketch3" plane through (25.4, -381, 0) normal (0, -1, 0) x (1, 0, 0)
  line L0 (0, 0) -> (0, -25.4) projected
  line L1 (0, 0) -> (14.1729, 0)
  line L2 (14.1729, 0) -> (14.1729, -12.7)
  line L3 (14.1729, -12.7) -> (0, -12.7)
  line L4 (0, -12.7) -> (0, 0)
  line L5 (0, -12.7) -> (14.1729, -12.7)
  line L6 (14.1729, -12.7) -> (14.1729, -6.35)
  line L7 (14.1729, -6.35) -> (0, -6.35)
  line L8 (0, -6.35) -> (0, -12.7)
  line L9 (355.6, -25.4) -> (0, -25.4) projected
  line L10 (0, -12.7) -> (14.1729, -12.7)
  line L11 (14.1729, -12.7) -> (14.1729, -25.4)
  line L12 (14.1729, -25.4) -> (0, -25.4)
  line L13 (0, -25.4) -> (0, -12.7)
  line L14 (0, -6.35) -> (355.6, -6.35)
  line L15 (355.6, -6.35) -> (355.6, -19.05)
  line L16 (355.6, -19.05) -> (0, -19.05)
  line L17 (0, -19.05) -> (0, -6.35)
  point P0 (-25.4, 0)
  point P1 (0, -19.05)
extrude "Extrusion3" cut sketch "Sketch3" against normal blind 12.7 contours L7 L2 L3 L0 | L3 L11 L16 L0 | L14 L15 L16 L11 L2
properties part number "JukeBox Outside panel sharp edges magnet slit" material "Oak, Red"
